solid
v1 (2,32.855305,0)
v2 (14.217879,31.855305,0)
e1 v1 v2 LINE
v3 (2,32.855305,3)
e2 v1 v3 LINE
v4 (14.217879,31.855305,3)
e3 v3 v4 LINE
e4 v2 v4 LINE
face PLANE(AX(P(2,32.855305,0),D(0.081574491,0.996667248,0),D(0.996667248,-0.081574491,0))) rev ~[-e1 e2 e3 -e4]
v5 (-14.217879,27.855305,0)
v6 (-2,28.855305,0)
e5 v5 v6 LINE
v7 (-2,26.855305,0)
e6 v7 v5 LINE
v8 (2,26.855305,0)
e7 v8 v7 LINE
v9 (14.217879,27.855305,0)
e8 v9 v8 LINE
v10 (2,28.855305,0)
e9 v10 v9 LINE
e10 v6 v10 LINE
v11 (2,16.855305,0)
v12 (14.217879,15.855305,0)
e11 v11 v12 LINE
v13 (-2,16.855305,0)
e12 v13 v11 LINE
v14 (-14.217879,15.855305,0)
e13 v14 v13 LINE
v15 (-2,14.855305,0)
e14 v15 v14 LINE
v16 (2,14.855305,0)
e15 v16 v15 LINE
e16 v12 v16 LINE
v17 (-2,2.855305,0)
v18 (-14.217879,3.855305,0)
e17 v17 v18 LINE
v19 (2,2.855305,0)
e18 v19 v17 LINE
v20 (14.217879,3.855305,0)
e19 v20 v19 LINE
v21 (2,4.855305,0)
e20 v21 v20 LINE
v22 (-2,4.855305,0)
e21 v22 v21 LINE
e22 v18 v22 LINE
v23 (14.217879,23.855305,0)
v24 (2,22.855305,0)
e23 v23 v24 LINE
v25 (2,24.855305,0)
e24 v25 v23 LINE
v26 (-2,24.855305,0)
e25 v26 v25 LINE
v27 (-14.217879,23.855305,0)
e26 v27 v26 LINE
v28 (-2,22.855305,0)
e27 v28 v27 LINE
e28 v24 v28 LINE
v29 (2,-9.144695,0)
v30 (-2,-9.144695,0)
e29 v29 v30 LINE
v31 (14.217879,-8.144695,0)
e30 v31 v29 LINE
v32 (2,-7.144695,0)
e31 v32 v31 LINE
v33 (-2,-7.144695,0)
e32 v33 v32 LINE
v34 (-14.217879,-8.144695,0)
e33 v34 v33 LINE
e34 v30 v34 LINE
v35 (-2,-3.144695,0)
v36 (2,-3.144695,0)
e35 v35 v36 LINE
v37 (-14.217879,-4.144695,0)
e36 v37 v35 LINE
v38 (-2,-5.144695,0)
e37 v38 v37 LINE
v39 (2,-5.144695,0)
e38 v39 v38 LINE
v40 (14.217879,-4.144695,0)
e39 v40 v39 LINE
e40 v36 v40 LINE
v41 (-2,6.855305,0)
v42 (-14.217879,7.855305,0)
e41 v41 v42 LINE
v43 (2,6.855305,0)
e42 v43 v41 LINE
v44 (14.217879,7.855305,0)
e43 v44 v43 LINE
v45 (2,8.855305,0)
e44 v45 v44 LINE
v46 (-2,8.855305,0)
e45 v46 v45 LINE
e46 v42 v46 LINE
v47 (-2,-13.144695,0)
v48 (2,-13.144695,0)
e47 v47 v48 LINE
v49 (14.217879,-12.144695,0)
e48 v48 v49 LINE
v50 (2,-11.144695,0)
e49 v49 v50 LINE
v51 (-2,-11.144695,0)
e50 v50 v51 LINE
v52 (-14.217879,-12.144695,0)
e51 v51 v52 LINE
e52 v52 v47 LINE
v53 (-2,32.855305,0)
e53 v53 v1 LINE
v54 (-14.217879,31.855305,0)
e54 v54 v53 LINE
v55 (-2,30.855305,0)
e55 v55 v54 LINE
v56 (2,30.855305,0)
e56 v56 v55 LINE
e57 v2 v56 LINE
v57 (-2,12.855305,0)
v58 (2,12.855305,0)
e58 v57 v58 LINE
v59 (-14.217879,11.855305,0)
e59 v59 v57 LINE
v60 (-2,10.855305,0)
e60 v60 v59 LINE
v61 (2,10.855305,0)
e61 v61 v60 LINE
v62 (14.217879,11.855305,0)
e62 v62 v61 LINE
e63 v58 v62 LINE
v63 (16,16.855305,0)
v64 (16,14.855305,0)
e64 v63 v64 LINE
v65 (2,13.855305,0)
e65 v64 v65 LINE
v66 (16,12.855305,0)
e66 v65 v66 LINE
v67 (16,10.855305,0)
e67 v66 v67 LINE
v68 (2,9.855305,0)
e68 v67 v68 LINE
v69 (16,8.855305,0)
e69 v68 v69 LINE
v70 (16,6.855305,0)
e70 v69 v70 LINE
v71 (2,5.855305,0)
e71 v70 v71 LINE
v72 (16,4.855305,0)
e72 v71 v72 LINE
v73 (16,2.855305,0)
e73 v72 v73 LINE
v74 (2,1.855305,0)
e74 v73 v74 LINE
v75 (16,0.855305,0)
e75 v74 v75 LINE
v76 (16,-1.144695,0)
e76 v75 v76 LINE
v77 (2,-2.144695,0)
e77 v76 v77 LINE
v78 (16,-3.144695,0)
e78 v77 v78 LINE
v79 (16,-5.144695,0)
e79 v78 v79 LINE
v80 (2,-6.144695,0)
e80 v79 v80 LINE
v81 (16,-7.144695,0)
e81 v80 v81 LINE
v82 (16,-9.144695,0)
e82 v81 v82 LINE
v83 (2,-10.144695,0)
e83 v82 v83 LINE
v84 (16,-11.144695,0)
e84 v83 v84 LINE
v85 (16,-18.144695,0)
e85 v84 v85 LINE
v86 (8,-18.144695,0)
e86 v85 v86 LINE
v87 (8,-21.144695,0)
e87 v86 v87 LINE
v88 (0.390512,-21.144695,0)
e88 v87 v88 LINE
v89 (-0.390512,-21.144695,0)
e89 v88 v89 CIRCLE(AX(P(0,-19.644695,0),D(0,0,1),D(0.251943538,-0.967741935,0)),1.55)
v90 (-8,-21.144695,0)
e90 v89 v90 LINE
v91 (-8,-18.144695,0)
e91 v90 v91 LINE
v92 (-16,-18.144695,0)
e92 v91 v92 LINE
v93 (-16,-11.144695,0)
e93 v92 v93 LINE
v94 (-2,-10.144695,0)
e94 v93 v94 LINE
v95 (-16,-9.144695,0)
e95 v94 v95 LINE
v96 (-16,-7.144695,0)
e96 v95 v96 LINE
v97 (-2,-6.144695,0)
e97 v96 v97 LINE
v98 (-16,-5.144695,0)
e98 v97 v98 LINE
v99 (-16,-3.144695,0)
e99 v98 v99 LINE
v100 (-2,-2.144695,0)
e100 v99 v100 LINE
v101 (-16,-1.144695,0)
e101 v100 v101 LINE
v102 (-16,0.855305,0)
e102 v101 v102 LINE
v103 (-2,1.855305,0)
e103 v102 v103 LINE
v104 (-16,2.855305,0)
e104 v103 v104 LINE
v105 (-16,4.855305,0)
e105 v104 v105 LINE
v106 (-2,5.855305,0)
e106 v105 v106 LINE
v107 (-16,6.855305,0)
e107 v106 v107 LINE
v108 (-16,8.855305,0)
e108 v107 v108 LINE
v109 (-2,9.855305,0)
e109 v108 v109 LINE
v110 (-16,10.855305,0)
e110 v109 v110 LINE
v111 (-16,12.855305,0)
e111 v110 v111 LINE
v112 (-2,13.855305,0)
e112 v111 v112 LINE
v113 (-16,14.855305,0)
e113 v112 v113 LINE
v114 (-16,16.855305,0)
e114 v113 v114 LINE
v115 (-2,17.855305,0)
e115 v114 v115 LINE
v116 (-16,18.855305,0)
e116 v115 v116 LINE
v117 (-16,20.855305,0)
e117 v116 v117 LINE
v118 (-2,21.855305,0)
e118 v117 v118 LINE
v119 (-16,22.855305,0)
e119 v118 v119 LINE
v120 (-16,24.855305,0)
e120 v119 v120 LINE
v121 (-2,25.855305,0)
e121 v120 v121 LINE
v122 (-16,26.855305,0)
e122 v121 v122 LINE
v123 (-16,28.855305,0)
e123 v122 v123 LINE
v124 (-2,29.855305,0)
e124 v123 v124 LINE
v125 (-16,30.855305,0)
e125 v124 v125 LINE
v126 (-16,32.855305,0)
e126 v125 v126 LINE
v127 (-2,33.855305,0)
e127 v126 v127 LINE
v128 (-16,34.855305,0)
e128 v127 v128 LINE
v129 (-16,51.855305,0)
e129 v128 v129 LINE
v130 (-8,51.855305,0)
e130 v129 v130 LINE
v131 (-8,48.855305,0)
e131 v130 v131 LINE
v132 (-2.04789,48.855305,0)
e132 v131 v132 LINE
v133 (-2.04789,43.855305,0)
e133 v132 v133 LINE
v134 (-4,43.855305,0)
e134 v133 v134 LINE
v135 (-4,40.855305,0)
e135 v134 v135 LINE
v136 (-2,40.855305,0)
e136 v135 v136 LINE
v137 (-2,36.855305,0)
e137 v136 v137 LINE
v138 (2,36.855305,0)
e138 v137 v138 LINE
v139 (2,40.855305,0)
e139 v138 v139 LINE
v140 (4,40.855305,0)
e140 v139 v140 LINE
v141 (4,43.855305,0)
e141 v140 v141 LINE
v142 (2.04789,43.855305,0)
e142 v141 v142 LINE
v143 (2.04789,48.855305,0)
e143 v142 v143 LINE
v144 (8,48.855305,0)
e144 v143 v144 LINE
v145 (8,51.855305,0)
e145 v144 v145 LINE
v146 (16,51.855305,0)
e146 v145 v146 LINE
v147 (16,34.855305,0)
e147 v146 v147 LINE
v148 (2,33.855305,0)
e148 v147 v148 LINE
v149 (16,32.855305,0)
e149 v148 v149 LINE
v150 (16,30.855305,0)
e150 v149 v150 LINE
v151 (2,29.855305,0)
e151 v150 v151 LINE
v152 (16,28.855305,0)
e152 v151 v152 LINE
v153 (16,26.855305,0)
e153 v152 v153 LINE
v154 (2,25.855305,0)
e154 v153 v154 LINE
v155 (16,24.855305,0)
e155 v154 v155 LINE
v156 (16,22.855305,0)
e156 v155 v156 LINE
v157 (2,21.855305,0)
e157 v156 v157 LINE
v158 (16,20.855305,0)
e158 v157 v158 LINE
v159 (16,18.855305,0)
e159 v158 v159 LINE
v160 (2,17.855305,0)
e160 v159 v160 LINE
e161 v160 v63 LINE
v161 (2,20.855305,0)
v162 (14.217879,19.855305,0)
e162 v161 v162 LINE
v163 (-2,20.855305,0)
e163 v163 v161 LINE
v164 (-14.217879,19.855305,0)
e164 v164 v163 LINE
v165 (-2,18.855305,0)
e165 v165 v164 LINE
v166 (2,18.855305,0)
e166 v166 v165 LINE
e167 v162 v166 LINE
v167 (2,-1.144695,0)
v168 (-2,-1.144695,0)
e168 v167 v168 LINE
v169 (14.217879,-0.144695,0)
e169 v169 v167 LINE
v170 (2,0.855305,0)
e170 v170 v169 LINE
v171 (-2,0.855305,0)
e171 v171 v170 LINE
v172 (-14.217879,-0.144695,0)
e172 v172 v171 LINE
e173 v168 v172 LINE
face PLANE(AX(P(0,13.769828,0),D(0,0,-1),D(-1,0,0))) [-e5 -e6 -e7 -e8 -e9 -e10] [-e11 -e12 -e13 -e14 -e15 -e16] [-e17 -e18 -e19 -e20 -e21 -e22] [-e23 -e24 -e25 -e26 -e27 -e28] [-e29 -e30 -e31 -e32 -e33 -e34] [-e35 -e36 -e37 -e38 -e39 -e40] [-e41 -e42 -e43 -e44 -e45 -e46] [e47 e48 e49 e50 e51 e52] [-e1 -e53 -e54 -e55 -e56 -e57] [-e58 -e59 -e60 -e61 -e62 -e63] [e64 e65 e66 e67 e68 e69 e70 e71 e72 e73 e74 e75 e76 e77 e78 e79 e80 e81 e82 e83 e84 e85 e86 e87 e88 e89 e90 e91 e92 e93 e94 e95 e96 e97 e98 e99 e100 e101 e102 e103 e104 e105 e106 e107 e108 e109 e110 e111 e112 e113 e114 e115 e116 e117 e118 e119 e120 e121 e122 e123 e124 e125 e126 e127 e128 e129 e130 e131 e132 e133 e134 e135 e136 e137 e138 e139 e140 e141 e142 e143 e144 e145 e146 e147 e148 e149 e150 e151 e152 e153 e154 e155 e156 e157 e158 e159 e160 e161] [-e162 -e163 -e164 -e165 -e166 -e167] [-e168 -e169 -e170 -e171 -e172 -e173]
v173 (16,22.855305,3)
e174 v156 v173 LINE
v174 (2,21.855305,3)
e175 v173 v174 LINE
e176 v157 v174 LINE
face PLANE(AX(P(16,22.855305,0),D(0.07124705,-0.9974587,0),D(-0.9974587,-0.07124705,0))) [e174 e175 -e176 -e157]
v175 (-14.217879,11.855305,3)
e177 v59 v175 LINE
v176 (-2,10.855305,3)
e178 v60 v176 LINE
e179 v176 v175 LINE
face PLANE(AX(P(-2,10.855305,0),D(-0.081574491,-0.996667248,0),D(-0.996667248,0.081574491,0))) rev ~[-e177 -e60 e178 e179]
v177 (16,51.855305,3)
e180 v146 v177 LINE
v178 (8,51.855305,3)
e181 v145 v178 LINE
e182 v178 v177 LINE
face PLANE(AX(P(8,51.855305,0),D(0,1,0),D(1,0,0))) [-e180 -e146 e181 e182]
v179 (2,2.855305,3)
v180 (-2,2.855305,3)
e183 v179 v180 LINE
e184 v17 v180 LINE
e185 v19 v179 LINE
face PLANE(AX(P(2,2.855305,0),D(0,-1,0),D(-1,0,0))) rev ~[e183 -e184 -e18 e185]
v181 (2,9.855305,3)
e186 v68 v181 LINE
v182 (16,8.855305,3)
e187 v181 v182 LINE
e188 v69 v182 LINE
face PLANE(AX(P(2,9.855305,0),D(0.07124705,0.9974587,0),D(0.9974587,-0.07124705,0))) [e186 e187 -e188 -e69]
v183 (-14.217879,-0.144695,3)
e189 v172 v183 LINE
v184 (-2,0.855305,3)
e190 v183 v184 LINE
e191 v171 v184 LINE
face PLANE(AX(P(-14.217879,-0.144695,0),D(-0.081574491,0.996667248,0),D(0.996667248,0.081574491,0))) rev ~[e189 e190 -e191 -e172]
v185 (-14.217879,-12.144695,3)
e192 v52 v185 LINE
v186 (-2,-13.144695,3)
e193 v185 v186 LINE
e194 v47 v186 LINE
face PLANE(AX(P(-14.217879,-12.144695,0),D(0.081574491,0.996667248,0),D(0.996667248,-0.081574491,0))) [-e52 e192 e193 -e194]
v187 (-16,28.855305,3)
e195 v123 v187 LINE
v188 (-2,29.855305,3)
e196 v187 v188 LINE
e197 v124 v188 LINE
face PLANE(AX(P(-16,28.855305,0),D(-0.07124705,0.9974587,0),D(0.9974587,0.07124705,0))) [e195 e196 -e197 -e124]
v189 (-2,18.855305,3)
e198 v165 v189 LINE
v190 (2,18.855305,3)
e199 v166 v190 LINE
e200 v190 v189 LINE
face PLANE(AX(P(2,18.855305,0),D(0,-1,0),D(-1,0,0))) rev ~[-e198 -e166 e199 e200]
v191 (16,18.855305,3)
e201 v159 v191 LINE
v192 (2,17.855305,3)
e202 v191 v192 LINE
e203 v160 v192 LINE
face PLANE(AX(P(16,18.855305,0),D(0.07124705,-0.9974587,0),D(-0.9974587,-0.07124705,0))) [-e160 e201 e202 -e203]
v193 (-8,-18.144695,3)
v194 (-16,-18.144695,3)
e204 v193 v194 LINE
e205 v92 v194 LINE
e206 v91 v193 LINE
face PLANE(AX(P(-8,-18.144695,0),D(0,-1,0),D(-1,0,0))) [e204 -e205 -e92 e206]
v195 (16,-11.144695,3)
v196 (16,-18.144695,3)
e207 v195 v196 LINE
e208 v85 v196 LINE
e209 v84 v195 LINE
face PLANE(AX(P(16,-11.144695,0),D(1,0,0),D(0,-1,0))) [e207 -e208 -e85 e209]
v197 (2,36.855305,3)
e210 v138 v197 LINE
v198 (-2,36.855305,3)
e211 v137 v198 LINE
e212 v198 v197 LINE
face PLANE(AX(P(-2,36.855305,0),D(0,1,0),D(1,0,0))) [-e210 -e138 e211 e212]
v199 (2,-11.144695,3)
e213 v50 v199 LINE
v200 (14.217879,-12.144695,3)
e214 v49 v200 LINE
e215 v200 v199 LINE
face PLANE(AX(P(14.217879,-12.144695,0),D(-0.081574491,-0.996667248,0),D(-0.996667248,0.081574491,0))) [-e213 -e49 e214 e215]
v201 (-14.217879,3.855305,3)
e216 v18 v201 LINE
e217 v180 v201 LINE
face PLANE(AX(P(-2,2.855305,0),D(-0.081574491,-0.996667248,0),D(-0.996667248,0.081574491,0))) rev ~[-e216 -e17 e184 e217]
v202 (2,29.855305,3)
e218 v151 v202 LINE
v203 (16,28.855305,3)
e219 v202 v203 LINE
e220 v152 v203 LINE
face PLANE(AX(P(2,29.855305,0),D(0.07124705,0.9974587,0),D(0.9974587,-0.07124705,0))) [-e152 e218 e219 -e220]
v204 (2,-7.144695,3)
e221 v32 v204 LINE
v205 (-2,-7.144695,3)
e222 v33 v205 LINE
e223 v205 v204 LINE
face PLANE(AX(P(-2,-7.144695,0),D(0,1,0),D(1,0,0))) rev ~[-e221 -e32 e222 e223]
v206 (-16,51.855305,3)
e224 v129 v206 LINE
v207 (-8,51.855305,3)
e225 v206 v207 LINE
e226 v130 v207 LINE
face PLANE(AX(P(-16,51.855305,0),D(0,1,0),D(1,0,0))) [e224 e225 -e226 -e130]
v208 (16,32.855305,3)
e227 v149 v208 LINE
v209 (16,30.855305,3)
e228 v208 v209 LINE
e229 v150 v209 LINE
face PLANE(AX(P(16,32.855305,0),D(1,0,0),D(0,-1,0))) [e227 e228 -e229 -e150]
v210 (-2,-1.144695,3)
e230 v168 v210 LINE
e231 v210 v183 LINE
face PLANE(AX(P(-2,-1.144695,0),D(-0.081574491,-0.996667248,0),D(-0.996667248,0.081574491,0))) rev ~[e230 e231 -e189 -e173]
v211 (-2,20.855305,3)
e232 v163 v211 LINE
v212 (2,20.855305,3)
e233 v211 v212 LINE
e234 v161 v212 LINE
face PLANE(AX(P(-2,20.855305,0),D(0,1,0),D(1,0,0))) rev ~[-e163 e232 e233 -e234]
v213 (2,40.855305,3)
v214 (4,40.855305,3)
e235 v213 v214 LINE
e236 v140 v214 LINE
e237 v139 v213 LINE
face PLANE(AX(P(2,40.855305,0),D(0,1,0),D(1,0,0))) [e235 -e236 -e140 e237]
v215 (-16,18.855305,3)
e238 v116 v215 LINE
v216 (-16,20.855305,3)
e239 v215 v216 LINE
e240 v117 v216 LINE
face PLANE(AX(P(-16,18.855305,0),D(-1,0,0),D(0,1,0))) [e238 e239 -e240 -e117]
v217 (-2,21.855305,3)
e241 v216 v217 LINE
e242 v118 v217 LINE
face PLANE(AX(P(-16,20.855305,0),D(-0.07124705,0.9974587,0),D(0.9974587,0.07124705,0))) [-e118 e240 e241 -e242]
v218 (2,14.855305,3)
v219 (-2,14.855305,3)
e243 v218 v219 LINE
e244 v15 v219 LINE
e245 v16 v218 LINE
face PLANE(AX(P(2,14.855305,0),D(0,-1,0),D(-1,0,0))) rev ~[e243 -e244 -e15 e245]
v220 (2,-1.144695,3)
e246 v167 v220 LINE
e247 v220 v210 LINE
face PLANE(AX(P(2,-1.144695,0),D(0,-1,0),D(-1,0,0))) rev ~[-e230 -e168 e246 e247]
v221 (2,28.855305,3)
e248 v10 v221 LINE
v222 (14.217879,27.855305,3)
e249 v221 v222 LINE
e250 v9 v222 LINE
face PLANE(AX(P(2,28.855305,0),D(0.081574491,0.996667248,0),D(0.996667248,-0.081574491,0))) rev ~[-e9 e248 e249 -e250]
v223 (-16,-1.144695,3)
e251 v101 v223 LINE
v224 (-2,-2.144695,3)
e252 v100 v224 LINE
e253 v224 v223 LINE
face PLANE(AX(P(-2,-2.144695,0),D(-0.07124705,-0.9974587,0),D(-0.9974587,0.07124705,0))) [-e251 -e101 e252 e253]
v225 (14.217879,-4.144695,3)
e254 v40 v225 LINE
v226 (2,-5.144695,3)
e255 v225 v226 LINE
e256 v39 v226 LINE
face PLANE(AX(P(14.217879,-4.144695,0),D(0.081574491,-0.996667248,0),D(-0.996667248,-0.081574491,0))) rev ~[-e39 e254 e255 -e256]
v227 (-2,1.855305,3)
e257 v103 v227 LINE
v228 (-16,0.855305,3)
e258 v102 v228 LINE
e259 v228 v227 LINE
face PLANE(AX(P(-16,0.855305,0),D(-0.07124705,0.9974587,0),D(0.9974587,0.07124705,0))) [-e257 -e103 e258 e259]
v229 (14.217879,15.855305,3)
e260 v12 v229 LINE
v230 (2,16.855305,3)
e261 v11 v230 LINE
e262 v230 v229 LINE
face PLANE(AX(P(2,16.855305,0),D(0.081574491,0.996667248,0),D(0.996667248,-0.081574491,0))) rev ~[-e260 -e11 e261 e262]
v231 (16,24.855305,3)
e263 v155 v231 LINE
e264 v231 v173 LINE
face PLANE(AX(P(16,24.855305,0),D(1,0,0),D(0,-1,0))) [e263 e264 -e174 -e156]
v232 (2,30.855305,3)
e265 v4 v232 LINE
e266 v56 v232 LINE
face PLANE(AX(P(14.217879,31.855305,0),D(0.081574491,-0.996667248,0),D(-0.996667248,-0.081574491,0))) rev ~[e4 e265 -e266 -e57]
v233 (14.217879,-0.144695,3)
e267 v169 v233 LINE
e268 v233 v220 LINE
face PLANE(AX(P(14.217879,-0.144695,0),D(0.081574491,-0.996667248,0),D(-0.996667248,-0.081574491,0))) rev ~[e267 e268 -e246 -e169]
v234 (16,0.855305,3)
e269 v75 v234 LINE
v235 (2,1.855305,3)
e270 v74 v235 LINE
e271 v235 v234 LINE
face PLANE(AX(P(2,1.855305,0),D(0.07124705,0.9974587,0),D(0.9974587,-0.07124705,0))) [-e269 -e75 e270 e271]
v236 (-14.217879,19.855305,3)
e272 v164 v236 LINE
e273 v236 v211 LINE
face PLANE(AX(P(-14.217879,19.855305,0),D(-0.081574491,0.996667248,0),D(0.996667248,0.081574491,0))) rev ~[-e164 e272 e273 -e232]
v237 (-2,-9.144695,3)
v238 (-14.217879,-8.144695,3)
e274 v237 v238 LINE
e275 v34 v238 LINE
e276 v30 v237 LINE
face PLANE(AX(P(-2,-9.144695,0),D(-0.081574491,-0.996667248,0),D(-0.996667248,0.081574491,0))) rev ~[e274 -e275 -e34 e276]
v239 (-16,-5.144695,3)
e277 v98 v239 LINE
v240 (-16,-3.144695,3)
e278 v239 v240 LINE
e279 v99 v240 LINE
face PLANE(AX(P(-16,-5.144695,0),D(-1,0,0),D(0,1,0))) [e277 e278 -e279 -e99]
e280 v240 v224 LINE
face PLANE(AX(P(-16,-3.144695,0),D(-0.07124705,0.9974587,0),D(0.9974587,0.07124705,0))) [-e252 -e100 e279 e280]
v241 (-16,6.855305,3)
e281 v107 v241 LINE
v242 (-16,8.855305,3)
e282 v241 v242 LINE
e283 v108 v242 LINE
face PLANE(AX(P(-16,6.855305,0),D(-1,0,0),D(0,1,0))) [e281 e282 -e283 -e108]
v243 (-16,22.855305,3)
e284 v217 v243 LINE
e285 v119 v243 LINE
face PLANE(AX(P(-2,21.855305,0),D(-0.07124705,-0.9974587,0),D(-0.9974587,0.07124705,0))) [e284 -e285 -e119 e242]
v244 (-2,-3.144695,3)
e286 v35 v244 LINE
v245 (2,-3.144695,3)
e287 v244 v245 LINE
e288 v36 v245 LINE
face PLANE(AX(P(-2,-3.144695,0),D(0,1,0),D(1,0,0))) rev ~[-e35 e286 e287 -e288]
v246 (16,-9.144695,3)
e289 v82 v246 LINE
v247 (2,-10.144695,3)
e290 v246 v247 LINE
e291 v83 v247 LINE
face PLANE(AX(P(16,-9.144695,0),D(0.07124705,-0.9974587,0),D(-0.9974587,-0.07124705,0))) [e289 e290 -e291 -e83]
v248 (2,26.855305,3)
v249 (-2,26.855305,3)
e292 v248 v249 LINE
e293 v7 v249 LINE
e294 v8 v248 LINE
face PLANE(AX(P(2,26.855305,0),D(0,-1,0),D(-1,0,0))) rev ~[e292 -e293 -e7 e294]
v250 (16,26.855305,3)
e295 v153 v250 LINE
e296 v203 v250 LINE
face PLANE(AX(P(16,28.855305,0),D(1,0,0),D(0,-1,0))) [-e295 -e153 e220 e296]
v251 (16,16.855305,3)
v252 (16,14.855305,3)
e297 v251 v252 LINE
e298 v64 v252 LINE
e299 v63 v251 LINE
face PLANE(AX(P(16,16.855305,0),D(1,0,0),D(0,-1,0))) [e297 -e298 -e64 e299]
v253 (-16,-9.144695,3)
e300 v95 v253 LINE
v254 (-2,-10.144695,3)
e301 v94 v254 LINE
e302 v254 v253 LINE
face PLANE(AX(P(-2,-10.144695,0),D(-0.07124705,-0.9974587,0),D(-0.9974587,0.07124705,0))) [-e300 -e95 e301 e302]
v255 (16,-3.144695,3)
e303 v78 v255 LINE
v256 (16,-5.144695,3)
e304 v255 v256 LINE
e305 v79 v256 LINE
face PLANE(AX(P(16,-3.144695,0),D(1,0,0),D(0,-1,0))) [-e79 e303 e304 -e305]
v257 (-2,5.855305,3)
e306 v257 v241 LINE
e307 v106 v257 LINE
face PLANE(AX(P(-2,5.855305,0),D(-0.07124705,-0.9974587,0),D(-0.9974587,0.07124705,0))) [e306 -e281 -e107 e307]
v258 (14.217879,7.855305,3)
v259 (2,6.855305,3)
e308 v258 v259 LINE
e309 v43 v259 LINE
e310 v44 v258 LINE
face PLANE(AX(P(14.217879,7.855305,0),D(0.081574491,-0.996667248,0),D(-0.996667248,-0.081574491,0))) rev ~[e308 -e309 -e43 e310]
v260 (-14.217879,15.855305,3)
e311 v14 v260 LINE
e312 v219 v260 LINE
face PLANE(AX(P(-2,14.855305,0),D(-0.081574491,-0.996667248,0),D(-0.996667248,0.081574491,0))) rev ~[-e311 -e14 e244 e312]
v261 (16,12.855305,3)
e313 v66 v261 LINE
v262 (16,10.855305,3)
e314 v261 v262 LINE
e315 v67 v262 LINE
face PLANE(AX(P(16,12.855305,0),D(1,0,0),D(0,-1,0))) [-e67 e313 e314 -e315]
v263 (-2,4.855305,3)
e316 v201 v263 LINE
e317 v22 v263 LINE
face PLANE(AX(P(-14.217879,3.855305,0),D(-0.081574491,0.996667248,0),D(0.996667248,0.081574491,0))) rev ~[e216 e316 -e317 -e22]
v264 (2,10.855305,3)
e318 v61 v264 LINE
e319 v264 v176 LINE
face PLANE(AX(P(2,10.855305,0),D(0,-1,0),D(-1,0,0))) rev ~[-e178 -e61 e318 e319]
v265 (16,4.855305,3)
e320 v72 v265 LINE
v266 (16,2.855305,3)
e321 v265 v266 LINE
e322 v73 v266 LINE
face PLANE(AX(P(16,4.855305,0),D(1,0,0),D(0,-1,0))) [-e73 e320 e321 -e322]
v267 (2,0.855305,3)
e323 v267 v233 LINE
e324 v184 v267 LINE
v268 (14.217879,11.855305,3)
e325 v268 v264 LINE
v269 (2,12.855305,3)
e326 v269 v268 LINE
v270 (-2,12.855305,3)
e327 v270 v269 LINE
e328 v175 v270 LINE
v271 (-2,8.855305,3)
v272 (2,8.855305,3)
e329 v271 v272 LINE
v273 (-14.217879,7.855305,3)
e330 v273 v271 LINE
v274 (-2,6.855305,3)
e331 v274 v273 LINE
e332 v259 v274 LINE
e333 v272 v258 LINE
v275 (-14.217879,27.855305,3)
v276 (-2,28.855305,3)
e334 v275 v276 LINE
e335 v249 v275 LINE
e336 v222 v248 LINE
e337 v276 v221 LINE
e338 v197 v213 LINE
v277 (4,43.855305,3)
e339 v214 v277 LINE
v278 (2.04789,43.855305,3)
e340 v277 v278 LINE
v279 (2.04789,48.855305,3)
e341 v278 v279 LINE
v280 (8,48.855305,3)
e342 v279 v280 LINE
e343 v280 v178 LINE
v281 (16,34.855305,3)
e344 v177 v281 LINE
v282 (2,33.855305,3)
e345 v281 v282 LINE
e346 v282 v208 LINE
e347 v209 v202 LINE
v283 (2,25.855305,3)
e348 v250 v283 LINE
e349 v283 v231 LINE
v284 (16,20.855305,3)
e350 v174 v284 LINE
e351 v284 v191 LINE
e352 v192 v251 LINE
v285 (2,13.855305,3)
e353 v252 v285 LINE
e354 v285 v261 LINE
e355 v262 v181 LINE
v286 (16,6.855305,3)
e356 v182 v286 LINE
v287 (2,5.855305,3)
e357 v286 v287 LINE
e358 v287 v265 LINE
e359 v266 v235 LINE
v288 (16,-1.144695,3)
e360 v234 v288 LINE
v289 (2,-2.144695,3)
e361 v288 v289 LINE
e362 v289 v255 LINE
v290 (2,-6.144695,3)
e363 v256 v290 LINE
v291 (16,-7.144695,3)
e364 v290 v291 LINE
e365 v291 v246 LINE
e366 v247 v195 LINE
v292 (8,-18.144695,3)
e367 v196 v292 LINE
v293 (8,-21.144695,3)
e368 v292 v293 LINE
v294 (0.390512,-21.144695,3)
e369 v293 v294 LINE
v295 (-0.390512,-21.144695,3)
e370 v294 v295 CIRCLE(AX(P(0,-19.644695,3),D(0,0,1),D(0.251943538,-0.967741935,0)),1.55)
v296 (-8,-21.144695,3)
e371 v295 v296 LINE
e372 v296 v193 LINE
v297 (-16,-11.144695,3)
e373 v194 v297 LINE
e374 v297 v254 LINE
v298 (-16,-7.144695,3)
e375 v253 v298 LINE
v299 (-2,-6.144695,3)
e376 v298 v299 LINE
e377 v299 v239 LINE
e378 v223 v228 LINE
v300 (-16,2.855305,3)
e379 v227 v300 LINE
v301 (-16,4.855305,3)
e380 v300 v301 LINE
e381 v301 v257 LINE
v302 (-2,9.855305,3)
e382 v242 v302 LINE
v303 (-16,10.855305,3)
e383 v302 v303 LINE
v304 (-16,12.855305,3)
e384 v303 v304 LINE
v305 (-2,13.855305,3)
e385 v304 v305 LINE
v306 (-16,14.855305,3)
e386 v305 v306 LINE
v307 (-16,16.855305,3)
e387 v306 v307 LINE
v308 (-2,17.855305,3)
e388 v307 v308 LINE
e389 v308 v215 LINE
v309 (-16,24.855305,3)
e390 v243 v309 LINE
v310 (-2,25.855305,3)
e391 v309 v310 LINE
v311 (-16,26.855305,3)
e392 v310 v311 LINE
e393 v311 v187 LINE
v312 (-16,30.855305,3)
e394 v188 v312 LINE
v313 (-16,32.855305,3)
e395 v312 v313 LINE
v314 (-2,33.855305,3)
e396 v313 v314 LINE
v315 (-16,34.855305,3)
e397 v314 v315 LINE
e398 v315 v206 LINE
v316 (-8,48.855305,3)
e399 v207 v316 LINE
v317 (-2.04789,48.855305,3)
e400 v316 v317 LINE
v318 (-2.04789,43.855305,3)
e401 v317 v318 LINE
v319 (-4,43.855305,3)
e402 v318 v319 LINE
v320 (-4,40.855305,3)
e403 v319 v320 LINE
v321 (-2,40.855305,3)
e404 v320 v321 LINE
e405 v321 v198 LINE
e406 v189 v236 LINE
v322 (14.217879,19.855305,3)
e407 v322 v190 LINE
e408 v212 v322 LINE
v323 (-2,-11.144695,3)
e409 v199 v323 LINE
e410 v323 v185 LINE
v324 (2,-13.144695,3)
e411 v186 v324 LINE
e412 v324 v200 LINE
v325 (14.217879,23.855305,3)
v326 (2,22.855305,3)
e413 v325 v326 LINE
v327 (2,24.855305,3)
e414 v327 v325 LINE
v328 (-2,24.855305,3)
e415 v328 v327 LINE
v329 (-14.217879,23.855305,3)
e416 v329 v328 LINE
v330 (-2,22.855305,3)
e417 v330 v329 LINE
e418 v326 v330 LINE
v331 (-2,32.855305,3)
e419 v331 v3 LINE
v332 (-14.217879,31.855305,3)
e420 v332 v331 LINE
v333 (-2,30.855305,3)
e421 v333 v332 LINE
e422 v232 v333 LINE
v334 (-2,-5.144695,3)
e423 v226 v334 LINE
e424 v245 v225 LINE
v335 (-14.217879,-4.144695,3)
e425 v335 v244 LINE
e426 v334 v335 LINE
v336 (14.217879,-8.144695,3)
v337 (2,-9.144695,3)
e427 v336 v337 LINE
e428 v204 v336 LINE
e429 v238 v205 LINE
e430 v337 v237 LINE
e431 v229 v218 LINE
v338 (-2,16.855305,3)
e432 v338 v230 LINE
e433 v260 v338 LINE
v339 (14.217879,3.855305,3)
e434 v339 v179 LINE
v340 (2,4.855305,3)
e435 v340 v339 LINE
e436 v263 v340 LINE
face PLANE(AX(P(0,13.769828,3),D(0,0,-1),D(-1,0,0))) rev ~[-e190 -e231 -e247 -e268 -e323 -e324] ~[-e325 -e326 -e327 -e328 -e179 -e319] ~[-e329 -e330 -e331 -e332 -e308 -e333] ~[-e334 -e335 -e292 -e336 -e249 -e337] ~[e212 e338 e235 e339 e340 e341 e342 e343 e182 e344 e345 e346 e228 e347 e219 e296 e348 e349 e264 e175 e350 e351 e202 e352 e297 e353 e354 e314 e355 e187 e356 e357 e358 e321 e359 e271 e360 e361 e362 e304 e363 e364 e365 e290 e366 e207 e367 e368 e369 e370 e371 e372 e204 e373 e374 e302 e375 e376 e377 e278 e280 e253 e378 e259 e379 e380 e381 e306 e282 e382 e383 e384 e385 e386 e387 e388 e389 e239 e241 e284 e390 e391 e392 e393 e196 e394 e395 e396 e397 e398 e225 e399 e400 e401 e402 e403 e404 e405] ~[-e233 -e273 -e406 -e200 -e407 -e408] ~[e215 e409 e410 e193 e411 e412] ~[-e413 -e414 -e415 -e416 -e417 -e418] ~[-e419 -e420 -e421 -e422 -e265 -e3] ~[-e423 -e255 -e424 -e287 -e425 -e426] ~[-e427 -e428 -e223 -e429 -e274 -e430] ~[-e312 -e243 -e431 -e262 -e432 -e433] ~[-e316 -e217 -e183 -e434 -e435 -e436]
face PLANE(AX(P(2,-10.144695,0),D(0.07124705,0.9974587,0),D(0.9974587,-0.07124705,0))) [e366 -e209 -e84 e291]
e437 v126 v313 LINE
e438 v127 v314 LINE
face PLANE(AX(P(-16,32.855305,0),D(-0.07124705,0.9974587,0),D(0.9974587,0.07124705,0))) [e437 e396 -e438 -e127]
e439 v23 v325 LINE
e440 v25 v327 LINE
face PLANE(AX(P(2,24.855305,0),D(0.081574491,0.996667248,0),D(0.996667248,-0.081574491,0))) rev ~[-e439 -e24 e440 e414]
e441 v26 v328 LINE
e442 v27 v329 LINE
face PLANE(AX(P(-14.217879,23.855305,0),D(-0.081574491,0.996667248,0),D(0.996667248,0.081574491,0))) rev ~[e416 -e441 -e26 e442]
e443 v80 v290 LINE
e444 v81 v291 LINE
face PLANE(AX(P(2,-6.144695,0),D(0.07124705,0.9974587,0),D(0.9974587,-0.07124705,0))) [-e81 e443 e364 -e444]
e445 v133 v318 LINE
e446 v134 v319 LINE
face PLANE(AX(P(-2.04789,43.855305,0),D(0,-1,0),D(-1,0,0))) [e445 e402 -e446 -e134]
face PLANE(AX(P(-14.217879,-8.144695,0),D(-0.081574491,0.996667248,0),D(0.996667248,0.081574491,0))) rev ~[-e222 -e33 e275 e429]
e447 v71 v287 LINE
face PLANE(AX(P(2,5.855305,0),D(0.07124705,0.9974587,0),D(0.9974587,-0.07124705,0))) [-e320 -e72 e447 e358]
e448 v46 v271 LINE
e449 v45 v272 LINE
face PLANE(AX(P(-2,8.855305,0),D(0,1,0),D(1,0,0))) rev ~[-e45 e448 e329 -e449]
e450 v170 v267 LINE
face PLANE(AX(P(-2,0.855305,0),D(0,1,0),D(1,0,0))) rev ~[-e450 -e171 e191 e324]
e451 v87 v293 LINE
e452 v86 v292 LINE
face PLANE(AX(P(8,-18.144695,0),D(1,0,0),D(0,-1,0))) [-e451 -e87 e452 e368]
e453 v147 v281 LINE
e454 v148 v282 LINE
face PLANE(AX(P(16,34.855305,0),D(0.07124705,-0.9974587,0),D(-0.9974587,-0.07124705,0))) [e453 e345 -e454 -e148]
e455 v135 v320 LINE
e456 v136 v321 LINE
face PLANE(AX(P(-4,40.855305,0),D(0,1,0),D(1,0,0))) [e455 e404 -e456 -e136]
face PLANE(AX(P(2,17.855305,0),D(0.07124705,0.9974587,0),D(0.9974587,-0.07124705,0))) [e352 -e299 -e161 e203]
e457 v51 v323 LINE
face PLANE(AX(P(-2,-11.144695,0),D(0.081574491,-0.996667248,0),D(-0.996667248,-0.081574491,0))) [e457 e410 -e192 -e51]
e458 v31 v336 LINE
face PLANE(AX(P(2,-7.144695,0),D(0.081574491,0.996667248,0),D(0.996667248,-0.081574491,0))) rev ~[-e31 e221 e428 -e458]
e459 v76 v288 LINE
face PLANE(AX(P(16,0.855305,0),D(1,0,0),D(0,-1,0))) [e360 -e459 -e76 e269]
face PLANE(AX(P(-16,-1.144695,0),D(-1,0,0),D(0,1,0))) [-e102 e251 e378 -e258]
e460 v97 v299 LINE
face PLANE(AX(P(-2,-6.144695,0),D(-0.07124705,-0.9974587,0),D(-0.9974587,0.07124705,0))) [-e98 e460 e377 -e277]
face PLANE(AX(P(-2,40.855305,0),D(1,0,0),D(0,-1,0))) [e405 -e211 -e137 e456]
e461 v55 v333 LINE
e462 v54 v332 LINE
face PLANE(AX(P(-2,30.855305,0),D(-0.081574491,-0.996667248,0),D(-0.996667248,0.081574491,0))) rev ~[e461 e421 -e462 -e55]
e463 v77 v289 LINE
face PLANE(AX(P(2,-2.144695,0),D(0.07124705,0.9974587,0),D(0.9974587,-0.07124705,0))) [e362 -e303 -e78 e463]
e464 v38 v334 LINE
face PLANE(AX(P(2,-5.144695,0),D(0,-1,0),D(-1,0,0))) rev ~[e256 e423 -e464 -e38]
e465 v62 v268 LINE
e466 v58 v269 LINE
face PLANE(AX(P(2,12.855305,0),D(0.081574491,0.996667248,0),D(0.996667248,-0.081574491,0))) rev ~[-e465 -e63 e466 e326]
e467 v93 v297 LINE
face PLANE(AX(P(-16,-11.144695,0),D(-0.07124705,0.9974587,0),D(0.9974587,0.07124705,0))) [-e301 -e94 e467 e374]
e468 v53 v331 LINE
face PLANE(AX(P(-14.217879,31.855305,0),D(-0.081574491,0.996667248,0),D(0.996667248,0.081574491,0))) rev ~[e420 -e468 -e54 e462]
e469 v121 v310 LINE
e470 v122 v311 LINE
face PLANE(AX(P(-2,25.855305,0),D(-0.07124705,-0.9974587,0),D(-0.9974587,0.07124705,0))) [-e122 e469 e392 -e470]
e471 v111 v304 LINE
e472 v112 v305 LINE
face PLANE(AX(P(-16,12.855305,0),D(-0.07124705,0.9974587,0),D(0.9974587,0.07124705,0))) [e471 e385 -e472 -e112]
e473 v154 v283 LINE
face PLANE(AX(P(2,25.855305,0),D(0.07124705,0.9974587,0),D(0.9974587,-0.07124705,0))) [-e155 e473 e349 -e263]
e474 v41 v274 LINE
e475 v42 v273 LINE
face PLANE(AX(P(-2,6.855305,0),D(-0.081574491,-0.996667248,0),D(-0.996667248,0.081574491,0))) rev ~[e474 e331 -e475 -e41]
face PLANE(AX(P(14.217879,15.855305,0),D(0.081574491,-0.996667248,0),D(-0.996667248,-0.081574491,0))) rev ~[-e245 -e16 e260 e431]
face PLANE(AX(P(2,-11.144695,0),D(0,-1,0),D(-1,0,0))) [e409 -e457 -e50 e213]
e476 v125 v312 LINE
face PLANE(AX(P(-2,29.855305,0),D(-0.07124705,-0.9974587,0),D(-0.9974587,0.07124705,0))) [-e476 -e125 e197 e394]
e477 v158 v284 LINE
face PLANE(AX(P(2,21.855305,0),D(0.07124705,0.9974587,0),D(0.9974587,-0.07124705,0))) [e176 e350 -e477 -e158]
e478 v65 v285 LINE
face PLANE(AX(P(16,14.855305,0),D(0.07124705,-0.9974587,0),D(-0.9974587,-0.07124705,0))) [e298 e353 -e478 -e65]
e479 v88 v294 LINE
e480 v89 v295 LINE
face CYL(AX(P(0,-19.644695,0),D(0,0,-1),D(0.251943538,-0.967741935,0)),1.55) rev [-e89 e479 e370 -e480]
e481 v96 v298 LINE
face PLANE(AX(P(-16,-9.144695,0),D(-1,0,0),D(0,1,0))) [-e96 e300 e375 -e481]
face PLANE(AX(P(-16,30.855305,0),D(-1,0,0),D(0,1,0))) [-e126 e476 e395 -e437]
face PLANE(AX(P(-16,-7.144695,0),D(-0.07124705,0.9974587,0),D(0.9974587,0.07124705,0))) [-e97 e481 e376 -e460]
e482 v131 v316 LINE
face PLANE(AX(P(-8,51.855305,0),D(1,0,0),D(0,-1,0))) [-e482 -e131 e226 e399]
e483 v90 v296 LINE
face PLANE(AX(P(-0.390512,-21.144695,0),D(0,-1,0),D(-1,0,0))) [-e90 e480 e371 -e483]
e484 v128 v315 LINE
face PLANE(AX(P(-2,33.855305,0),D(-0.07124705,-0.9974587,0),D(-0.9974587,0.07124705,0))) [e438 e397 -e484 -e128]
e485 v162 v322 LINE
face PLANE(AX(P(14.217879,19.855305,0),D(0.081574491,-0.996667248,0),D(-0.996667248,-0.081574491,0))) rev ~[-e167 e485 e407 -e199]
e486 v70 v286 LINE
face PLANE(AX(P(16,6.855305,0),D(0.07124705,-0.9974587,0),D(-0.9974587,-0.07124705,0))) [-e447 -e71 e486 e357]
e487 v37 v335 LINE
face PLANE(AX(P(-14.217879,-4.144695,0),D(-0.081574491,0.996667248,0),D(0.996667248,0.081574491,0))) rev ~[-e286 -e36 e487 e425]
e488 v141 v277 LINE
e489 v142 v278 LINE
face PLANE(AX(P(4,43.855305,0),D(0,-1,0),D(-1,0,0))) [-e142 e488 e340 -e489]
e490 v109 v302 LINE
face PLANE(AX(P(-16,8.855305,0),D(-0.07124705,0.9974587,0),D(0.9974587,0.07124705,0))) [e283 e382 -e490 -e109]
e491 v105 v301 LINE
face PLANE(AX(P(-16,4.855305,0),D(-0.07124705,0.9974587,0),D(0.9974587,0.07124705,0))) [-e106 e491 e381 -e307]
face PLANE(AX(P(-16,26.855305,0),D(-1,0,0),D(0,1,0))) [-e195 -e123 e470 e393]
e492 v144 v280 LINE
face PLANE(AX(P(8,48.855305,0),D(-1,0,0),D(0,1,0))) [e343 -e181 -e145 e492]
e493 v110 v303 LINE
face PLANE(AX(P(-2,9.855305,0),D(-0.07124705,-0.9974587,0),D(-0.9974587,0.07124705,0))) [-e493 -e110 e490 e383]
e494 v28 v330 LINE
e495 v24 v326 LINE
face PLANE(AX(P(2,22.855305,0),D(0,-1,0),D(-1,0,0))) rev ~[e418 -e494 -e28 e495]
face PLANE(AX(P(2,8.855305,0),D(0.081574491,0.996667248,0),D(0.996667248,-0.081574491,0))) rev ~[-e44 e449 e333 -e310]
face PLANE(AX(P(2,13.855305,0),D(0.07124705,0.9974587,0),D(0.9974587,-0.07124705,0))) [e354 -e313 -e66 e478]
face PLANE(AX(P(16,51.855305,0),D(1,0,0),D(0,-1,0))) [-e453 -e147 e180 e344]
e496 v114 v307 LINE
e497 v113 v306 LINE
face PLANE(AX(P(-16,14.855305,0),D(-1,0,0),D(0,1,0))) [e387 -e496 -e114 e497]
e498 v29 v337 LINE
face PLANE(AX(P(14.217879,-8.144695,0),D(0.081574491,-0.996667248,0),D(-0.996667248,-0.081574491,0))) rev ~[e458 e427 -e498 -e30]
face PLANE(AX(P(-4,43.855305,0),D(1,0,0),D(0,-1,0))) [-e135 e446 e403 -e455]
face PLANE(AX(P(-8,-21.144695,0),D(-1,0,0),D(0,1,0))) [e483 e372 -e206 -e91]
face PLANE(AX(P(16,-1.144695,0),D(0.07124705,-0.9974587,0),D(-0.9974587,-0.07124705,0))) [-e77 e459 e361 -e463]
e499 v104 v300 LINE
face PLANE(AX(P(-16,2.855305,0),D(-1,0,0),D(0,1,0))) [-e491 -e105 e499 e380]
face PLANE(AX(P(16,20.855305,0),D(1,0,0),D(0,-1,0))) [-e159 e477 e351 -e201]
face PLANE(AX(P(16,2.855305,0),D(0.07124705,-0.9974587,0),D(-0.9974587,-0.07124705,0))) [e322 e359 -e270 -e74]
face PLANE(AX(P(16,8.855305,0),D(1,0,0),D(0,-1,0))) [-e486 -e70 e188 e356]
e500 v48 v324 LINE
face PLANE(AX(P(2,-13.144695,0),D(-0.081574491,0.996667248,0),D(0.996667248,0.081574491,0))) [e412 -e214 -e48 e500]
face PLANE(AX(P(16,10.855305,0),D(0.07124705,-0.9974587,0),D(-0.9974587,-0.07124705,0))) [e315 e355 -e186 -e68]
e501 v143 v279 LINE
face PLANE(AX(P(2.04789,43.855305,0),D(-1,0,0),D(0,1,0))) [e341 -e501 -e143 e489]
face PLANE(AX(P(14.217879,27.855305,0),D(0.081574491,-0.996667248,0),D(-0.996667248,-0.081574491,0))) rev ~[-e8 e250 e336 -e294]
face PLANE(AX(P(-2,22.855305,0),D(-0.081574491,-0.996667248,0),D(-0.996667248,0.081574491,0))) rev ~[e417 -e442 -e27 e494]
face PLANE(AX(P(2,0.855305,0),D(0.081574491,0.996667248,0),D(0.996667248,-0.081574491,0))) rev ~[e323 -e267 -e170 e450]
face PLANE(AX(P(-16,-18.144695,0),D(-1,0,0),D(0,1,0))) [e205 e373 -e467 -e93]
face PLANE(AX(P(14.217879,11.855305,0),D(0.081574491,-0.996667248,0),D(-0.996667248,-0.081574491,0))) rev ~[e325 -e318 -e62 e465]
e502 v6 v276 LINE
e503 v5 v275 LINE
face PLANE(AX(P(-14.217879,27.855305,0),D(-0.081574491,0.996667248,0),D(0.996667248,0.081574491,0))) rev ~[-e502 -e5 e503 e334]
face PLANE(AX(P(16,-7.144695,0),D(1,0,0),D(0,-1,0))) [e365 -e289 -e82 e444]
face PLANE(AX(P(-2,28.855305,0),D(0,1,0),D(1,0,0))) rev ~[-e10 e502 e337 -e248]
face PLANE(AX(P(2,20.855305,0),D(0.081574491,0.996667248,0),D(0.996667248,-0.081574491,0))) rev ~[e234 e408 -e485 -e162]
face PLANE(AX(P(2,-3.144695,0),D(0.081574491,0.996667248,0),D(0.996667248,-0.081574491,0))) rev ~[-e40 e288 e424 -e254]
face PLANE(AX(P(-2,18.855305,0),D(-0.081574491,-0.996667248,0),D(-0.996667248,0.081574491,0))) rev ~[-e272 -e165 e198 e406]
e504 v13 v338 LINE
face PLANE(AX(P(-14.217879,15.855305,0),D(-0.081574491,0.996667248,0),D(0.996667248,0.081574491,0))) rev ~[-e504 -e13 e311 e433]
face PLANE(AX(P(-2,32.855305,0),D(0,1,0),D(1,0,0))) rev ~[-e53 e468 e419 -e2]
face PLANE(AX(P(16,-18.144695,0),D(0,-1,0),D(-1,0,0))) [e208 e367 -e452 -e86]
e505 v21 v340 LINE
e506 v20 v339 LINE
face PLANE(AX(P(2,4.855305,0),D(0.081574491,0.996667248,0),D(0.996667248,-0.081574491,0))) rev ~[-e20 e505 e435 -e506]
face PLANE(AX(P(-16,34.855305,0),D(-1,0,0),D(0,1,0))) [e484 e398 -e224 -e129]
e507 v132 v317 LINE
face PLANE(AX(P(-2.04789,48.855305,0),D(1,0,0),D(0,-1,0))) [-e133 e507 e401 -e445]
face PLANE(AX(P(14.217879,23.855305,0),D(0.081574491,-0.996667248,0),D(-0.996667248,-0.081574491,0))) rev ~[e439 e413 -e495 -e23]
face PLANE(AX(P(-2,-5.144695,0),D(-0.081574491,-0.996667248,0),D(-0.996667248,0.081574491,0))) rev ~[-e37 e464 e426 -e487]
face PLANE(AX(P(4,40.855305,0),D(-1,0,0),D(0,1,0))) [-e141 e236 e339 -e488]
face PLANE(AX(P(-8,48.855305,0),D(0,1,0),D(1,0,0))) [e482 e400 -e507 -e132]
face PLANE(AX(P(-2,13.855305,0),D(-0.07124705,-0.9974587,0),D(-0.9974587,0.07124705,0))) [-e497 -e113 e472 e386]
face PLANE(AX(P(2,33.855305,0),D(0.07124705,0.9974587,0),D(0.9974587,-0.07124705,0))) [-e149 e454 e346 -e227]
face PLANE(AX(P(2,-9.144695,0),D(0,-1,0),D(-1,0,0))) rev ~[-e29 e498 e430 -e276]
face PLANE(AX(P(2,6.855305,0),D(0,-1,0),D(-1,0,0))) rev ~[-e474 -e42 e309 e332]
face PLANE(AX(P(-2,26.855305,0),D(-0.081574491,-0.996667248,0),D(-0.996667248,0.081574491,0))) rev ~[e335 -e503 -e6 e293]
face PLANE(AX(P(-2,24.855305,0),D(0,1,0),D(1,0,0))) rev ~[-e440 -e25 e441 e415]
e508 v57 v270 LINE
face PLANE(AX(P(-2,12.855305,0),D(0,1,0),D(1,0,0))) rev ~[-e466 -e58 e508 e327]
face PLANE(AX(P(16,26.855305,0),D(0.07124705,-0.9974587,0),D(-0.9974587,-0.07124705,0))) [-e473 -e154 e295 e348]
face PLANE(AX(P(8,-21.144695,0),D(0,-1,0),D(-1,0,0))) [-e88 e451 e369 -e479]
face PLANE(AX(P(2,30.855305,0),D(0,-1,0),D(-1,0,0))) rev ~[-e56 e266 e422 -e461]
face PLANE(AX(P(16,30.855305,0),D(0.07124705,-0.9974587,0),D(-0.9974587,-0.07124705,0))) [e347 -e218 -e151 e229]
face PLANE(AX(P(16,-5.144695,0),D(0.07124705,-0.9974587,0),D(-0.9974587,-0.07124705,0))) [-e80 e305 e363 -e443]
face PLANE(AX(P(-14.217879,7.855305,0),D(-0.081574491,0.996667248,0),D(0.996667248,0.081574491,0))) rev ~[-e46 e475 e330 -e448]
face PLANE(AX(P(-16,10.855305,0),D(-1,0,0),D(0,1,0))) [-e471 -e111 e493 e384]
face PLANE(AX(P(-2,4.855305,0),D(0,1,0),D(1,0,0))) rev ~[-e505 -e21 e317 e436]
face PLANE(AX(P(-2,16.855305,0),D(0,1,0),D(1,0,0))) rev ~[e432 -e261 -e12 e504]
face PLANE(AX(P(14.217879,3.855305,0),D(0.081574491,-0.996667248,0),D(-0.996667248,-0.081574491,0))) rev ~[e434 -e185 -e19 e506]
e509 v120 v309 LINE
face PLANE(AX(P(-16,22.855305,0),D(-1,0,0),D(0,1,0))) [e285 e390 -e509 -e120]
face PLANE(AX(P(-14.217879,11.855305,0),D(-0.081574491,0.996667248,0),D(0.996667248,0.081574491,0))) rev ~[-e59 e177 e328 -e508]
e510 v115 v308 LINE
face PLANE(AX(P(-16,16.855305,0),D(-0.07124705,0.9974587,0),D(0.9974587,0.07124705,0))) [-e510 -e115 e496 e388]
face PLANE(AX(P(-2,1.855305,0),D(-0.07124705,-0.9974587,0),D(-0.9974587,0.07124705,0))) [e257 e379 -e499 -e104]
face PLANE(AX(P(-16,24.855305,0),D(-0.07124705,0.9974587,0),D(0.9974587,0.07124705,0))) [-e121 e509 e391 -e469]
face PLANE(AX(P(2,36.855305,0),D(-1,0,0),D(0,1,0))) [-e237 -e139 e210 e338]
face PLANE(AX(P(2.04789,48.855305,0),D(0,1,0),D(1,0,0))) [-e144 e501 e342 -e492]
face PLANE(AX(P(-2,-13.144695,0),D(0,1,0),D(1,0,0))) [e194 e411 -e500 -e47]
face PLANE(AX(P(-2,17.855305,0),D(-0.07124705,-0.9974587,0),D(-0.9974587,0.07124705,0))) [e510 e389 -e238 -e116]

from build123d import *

# Parameters (mm, degrees)
EXTRUDE_1_DEPTH = 3


with BuildPart() as part:
    # 草图2 → 凸台-拉伸1 (new body)
    with BuildSketch(Plane.XY):
        with BuildLine():
            Line((2.047890023, 48.855305477), (8, 48.855305477))
            Line((8, 48.855305477), (8, 51.855305477))
            Line((8, 51.855305477), (16, 51.855305477))
            Line((16, 51.855305477), (16, 34.855305477))
            Line((16, 34.855305477), (2, 33.855305477))
            Line((2, 33.855305477), (16, 32.855305477))
            Line((16, 32.855305477), (16, 30.855305477))
            Line((16, 30.855305477), (2, 29.855305477))
            Line((2, 29.855305477), (16, 28.855305477))
            Line((16, 28.855305477), (16, 26.855305477))
            Line((16, 26.855305477), (2, 25.855305477))
            Line((2, 25.855305477), (16, 24.855305477))
            Line((16, 24.855305477), (16, 22.855305477))
            Line((16, 22.855305477), (2, 21.855305477))
            Line((2, 21.855305477), (16, 20.855305477))
            Line((16, 20.855305477), (16, 18.855305477))
            Line((16, 18.855305477), (2, 17.855305477))
            Line((2, 17.855305477), (16, 16.855305477))
            Line((16, 16.855305477), (16, 14.855305477))
            Line((16, 14.855305477), (2, 13.855305477))
            Line((2, 13.855305477), (16, 12.855305477))
            Line((16, 12.855305477), (16, 10.855305477))
            Line((16, 10.855305477), (2, 9.855305477))
            Line((2, 9.855305477), (16, 8.855305477))
            Line((16, 8.855305477), (16, 6.855305477))
            Line((16, 6.855305477), (2, 5.855305477))
            Line((2, 5.855305477), (16, 4.855305477))
            Line((16, 4.855305477), (16, 2.855305477))
            Line((16, 2.855305477), (2, 1.855305477))
            Line((2, 1.855305477), (16, 0.855305477))
            Line((16, 0.855305477), (16, -1.144694523))
            Line((16, -1.144694523), (2, -2.144694523))
            Line((2, -2.144694523), (16, -3.144694523))
            Line((16, -3.144694523), (16, -5.144694523))
            Line((16, -5.144694523), (2, -6.144694523))
            Line((2, -6.144694523), (16, -7.144694523))
            Line((16, -7.144694523), (16, -9.144694523))
            Line((16, -9.144694523), (2, -10.144694523))
            Line((2, -10.144694523), (16, -11.144694523))
            Line((16, -11.144694523), (16, -18.144694523))
            Line((16, -18.144694523), (8, -18.144694523))
            Line((8, -18.144694523), (8, -21.144694523))
            Line((8, -21.144694523), (0.390512484, -21.144694523))
            ThreePointArc((0.390512484, -21.144694523), (0, -18.094694523), (-0.390512484, -21.144694523))
            Line((-0.390512484, -21.144694523), (-8, -21.144694523))
            Line((-8, -21.144694523), (-8, -18.144694523))
            Line((-8, -18.144694523), (-16, -18.144694523))
            Line((-16, -18.144694523), (-16, -11.144694523))
            Line((-16, -11.144694523), (-2, -10.144694523))
            Line((-2, -10.144694523), (-16, -9.144694523))
            Line((-16, -9.144694523), (-16, -7.144694523))
            Line((-16, -7.144694523), (-2, -6.144694523))
            Line((-2, -6.144694523), (-16, -5.144694523))
            Line((-16, -5.144694523), (-16, -3.144694523))
            Line((-16, -3.144694523), (-2, -2.144694523))
            Line((-2, -2.144694523), (-16, -1.144694523))
            Line((-16, -1.144694523), (-16, 0.855305477))
            Line((-16, 0.855305477), (-2, 1.855305477))
            Line((-2, 1.855305477), (-16, 2.855305477))
            Line((-16, 2.855305477), (-16, 4.855305477))
            Line((-16, 4.855305477), (-2, 5.855305477))
            Line((-2, 5.855305477), (-16, 6.855305477))
            Line((-16, 6.855305477), (-16, 8.855305477))
            Line((-16, 8.855305477), (-2, 9.855305477))
            Line((-2, 9.855305477), (-16, 10.855305477))
            Line((-16, 10.855305477), (-16, 12.855305477))
            Line((-16, 12.855305477), (-2, 13.855305477))
            Line((-2, 13.855305477), (-16, 14.855305477))
            Line((-16, 14.855305477), (-16, 16.855305477))
            Line((-16, 16.855305477), (-2, 17.855305477))
            Line((-2, 17.855305477), (-16, 18.855305477))
            Line((-16, 18.855305477), (-16, 20.855305477))
            Line((-16, 20.855305477), (-2, 21.855305477))
            Line((-2, 21.855305477), (-16, 22.855305477))
            Line((-16, 22.855305477), (-16, 24.855305477))
            Line((-16, 24.855305477), (-2, 25.855305477))
            Line((-2, 25.855305477), (-16, 26.855305477))
            Line((-16, 26.855305477), (-16, 28.855305477))
            Line((-16, 28.855305477), (-2, 29.855305477))
            Line((-2, 29.855305477), (-16, 30.855305477))
            Line((-16, 30.855305477), (-16, 32.855305477))
            Line((-16, 32.855305477), (-2, 33.855305477))
            Line((-2, 33.855305477), (-16, 34.855305477))
            Line((-16, 34.855305477), (-16, 51.855305477))
            Line((-16, 51.855305477), (-8, 51.855305477))
            Line((-8, 51.855305477), (-8, 48.855305477))
            Line((-8, 48.855305477), (-2.047890023, 48.855305477))
            Line((-2.047890023, 48.855305477), (-2.047890023, 43.855305477))
            Line((-2.047890023, 43.855305477), (-4, 43.855305477))
            Line((-4, 43.855305477), (-4, 40.855305477))
            Line((-4, 40.855305477), (-2, 40.855305477))
            Line((-2, 40.855305477), (-2, 36.855305477))
            Line((-2, 36.855305477), (2, 36.855305477))
            Line((2, 36.855305477), (2, 40.855305477))
            Line((2, 40.855305477), (4, 40.855305477))
            Line((4, 40.855305477), (4, 43.855305477))
            Line((4, 43.855305477), (2.047890023, 43.855305477))
            Line((2.047890023, 43.855305477), (2.047890023, 48.855305477))
        make_face()
        Polygon((-14.217878812, -12.144694523), (-2, -13.144694523), (2, -13.144694523), (14.217878812, -12.144694523), (2, -11.144694523), (-2, -11.144694523), align=None, mode=Mode.SUBTRACT)
        Polygon((2, 32.855305477), (14.217878812, 31.855305477), (2, 30.855305477), (-2, 30.855305477), (-14.217878812, 31.855305477), (-2, 32.855305477), align=None, mode=Mode.SUBTRACT)
        Polygon((2, 28.855305477), (14.217878812, 27.855305477), (2, 26.855305477), (-2, 26.855305477), (-14.217878812, 27.855305477), (-2, 28.855305477), align=None, mode=Mode.SUBTRACT)
        Polygon((2, 24.855305477), (14.217878812, 23.855305477), (2, 22.855305477), (-2, 22.855305477), (-14.217878812, 23.855305477), (-2, 24.855305477), align=None, mode=Mode.SUBTRACT)
        Polygon((2, 20.855305477), (14.217878812, 19.855305477), (2, 18.855305477), (-2, 18.855305477), (-14.217878812, 19.855305477), (-2, 20.855305477), align=None, mode=Mode.SUBTRACT)
        Polygon((2, 16.855305477), (14.217878812, 15.855305477), (2, 14.855305477), (-2, 14.855305477), (-14.217878812, 15.855305477), (-2, 16.855305477), align=None, mode=Mode.SUBTRACT)
        Polygon((2, 12.855305477), (14.217878812, 11.855305477), (2, 10.855305477), (-2, 10.855305477), (-14.217878812, 11.855305477), (-2, 12.855305477), align=None, mode=Mode.SUBTRACT)
        Polygon((2, 8.855305477), (14.217878812, 7.855305477), (2, 6.855305477), (-2, 6.855305477), (-14.217878812, 7.855305477), (-2, 8.855305477), align=None, mode=Mode.SUBTRACT)
        Polygon((2, 4.855305477), (14.217878812, 3.855305477), (2, 2.855305477), (-2, 2.855305477), (-14.217878812, 3.855305477), (-2, 4.855305477), align=None, mode=Mode.SUBTRACT)
        Polygon((2, 0.855305477), (14.217878812, -0.144694523), (2, -1.144694523), (-2, -1.144694523), (-14.217878812, -0.144694523), (-2, 0.855305477), align=None, mode=Mode.SUBTRACT)
        Polygon((2, -3.144694523), (14.217878812, -4.144694523), (2, -5.144694523), (-2, -5.144694523), (-14.217878812, -4.144694523), (-2, -3.144694523), align=None, mode=Mode.SUBTRACT)
        Polygon((2, -7.144694523), (14.217878812, -8.144694523), (2, -9.144694523), (-2, -9.144694523), (-14.217878812, -8.144694523), (-2, -7.144694523), align=None, mode=Mode.SUBTRACT)
    extrude(amount=EXTRUDE_1_DEPTH)


solid = part.part
